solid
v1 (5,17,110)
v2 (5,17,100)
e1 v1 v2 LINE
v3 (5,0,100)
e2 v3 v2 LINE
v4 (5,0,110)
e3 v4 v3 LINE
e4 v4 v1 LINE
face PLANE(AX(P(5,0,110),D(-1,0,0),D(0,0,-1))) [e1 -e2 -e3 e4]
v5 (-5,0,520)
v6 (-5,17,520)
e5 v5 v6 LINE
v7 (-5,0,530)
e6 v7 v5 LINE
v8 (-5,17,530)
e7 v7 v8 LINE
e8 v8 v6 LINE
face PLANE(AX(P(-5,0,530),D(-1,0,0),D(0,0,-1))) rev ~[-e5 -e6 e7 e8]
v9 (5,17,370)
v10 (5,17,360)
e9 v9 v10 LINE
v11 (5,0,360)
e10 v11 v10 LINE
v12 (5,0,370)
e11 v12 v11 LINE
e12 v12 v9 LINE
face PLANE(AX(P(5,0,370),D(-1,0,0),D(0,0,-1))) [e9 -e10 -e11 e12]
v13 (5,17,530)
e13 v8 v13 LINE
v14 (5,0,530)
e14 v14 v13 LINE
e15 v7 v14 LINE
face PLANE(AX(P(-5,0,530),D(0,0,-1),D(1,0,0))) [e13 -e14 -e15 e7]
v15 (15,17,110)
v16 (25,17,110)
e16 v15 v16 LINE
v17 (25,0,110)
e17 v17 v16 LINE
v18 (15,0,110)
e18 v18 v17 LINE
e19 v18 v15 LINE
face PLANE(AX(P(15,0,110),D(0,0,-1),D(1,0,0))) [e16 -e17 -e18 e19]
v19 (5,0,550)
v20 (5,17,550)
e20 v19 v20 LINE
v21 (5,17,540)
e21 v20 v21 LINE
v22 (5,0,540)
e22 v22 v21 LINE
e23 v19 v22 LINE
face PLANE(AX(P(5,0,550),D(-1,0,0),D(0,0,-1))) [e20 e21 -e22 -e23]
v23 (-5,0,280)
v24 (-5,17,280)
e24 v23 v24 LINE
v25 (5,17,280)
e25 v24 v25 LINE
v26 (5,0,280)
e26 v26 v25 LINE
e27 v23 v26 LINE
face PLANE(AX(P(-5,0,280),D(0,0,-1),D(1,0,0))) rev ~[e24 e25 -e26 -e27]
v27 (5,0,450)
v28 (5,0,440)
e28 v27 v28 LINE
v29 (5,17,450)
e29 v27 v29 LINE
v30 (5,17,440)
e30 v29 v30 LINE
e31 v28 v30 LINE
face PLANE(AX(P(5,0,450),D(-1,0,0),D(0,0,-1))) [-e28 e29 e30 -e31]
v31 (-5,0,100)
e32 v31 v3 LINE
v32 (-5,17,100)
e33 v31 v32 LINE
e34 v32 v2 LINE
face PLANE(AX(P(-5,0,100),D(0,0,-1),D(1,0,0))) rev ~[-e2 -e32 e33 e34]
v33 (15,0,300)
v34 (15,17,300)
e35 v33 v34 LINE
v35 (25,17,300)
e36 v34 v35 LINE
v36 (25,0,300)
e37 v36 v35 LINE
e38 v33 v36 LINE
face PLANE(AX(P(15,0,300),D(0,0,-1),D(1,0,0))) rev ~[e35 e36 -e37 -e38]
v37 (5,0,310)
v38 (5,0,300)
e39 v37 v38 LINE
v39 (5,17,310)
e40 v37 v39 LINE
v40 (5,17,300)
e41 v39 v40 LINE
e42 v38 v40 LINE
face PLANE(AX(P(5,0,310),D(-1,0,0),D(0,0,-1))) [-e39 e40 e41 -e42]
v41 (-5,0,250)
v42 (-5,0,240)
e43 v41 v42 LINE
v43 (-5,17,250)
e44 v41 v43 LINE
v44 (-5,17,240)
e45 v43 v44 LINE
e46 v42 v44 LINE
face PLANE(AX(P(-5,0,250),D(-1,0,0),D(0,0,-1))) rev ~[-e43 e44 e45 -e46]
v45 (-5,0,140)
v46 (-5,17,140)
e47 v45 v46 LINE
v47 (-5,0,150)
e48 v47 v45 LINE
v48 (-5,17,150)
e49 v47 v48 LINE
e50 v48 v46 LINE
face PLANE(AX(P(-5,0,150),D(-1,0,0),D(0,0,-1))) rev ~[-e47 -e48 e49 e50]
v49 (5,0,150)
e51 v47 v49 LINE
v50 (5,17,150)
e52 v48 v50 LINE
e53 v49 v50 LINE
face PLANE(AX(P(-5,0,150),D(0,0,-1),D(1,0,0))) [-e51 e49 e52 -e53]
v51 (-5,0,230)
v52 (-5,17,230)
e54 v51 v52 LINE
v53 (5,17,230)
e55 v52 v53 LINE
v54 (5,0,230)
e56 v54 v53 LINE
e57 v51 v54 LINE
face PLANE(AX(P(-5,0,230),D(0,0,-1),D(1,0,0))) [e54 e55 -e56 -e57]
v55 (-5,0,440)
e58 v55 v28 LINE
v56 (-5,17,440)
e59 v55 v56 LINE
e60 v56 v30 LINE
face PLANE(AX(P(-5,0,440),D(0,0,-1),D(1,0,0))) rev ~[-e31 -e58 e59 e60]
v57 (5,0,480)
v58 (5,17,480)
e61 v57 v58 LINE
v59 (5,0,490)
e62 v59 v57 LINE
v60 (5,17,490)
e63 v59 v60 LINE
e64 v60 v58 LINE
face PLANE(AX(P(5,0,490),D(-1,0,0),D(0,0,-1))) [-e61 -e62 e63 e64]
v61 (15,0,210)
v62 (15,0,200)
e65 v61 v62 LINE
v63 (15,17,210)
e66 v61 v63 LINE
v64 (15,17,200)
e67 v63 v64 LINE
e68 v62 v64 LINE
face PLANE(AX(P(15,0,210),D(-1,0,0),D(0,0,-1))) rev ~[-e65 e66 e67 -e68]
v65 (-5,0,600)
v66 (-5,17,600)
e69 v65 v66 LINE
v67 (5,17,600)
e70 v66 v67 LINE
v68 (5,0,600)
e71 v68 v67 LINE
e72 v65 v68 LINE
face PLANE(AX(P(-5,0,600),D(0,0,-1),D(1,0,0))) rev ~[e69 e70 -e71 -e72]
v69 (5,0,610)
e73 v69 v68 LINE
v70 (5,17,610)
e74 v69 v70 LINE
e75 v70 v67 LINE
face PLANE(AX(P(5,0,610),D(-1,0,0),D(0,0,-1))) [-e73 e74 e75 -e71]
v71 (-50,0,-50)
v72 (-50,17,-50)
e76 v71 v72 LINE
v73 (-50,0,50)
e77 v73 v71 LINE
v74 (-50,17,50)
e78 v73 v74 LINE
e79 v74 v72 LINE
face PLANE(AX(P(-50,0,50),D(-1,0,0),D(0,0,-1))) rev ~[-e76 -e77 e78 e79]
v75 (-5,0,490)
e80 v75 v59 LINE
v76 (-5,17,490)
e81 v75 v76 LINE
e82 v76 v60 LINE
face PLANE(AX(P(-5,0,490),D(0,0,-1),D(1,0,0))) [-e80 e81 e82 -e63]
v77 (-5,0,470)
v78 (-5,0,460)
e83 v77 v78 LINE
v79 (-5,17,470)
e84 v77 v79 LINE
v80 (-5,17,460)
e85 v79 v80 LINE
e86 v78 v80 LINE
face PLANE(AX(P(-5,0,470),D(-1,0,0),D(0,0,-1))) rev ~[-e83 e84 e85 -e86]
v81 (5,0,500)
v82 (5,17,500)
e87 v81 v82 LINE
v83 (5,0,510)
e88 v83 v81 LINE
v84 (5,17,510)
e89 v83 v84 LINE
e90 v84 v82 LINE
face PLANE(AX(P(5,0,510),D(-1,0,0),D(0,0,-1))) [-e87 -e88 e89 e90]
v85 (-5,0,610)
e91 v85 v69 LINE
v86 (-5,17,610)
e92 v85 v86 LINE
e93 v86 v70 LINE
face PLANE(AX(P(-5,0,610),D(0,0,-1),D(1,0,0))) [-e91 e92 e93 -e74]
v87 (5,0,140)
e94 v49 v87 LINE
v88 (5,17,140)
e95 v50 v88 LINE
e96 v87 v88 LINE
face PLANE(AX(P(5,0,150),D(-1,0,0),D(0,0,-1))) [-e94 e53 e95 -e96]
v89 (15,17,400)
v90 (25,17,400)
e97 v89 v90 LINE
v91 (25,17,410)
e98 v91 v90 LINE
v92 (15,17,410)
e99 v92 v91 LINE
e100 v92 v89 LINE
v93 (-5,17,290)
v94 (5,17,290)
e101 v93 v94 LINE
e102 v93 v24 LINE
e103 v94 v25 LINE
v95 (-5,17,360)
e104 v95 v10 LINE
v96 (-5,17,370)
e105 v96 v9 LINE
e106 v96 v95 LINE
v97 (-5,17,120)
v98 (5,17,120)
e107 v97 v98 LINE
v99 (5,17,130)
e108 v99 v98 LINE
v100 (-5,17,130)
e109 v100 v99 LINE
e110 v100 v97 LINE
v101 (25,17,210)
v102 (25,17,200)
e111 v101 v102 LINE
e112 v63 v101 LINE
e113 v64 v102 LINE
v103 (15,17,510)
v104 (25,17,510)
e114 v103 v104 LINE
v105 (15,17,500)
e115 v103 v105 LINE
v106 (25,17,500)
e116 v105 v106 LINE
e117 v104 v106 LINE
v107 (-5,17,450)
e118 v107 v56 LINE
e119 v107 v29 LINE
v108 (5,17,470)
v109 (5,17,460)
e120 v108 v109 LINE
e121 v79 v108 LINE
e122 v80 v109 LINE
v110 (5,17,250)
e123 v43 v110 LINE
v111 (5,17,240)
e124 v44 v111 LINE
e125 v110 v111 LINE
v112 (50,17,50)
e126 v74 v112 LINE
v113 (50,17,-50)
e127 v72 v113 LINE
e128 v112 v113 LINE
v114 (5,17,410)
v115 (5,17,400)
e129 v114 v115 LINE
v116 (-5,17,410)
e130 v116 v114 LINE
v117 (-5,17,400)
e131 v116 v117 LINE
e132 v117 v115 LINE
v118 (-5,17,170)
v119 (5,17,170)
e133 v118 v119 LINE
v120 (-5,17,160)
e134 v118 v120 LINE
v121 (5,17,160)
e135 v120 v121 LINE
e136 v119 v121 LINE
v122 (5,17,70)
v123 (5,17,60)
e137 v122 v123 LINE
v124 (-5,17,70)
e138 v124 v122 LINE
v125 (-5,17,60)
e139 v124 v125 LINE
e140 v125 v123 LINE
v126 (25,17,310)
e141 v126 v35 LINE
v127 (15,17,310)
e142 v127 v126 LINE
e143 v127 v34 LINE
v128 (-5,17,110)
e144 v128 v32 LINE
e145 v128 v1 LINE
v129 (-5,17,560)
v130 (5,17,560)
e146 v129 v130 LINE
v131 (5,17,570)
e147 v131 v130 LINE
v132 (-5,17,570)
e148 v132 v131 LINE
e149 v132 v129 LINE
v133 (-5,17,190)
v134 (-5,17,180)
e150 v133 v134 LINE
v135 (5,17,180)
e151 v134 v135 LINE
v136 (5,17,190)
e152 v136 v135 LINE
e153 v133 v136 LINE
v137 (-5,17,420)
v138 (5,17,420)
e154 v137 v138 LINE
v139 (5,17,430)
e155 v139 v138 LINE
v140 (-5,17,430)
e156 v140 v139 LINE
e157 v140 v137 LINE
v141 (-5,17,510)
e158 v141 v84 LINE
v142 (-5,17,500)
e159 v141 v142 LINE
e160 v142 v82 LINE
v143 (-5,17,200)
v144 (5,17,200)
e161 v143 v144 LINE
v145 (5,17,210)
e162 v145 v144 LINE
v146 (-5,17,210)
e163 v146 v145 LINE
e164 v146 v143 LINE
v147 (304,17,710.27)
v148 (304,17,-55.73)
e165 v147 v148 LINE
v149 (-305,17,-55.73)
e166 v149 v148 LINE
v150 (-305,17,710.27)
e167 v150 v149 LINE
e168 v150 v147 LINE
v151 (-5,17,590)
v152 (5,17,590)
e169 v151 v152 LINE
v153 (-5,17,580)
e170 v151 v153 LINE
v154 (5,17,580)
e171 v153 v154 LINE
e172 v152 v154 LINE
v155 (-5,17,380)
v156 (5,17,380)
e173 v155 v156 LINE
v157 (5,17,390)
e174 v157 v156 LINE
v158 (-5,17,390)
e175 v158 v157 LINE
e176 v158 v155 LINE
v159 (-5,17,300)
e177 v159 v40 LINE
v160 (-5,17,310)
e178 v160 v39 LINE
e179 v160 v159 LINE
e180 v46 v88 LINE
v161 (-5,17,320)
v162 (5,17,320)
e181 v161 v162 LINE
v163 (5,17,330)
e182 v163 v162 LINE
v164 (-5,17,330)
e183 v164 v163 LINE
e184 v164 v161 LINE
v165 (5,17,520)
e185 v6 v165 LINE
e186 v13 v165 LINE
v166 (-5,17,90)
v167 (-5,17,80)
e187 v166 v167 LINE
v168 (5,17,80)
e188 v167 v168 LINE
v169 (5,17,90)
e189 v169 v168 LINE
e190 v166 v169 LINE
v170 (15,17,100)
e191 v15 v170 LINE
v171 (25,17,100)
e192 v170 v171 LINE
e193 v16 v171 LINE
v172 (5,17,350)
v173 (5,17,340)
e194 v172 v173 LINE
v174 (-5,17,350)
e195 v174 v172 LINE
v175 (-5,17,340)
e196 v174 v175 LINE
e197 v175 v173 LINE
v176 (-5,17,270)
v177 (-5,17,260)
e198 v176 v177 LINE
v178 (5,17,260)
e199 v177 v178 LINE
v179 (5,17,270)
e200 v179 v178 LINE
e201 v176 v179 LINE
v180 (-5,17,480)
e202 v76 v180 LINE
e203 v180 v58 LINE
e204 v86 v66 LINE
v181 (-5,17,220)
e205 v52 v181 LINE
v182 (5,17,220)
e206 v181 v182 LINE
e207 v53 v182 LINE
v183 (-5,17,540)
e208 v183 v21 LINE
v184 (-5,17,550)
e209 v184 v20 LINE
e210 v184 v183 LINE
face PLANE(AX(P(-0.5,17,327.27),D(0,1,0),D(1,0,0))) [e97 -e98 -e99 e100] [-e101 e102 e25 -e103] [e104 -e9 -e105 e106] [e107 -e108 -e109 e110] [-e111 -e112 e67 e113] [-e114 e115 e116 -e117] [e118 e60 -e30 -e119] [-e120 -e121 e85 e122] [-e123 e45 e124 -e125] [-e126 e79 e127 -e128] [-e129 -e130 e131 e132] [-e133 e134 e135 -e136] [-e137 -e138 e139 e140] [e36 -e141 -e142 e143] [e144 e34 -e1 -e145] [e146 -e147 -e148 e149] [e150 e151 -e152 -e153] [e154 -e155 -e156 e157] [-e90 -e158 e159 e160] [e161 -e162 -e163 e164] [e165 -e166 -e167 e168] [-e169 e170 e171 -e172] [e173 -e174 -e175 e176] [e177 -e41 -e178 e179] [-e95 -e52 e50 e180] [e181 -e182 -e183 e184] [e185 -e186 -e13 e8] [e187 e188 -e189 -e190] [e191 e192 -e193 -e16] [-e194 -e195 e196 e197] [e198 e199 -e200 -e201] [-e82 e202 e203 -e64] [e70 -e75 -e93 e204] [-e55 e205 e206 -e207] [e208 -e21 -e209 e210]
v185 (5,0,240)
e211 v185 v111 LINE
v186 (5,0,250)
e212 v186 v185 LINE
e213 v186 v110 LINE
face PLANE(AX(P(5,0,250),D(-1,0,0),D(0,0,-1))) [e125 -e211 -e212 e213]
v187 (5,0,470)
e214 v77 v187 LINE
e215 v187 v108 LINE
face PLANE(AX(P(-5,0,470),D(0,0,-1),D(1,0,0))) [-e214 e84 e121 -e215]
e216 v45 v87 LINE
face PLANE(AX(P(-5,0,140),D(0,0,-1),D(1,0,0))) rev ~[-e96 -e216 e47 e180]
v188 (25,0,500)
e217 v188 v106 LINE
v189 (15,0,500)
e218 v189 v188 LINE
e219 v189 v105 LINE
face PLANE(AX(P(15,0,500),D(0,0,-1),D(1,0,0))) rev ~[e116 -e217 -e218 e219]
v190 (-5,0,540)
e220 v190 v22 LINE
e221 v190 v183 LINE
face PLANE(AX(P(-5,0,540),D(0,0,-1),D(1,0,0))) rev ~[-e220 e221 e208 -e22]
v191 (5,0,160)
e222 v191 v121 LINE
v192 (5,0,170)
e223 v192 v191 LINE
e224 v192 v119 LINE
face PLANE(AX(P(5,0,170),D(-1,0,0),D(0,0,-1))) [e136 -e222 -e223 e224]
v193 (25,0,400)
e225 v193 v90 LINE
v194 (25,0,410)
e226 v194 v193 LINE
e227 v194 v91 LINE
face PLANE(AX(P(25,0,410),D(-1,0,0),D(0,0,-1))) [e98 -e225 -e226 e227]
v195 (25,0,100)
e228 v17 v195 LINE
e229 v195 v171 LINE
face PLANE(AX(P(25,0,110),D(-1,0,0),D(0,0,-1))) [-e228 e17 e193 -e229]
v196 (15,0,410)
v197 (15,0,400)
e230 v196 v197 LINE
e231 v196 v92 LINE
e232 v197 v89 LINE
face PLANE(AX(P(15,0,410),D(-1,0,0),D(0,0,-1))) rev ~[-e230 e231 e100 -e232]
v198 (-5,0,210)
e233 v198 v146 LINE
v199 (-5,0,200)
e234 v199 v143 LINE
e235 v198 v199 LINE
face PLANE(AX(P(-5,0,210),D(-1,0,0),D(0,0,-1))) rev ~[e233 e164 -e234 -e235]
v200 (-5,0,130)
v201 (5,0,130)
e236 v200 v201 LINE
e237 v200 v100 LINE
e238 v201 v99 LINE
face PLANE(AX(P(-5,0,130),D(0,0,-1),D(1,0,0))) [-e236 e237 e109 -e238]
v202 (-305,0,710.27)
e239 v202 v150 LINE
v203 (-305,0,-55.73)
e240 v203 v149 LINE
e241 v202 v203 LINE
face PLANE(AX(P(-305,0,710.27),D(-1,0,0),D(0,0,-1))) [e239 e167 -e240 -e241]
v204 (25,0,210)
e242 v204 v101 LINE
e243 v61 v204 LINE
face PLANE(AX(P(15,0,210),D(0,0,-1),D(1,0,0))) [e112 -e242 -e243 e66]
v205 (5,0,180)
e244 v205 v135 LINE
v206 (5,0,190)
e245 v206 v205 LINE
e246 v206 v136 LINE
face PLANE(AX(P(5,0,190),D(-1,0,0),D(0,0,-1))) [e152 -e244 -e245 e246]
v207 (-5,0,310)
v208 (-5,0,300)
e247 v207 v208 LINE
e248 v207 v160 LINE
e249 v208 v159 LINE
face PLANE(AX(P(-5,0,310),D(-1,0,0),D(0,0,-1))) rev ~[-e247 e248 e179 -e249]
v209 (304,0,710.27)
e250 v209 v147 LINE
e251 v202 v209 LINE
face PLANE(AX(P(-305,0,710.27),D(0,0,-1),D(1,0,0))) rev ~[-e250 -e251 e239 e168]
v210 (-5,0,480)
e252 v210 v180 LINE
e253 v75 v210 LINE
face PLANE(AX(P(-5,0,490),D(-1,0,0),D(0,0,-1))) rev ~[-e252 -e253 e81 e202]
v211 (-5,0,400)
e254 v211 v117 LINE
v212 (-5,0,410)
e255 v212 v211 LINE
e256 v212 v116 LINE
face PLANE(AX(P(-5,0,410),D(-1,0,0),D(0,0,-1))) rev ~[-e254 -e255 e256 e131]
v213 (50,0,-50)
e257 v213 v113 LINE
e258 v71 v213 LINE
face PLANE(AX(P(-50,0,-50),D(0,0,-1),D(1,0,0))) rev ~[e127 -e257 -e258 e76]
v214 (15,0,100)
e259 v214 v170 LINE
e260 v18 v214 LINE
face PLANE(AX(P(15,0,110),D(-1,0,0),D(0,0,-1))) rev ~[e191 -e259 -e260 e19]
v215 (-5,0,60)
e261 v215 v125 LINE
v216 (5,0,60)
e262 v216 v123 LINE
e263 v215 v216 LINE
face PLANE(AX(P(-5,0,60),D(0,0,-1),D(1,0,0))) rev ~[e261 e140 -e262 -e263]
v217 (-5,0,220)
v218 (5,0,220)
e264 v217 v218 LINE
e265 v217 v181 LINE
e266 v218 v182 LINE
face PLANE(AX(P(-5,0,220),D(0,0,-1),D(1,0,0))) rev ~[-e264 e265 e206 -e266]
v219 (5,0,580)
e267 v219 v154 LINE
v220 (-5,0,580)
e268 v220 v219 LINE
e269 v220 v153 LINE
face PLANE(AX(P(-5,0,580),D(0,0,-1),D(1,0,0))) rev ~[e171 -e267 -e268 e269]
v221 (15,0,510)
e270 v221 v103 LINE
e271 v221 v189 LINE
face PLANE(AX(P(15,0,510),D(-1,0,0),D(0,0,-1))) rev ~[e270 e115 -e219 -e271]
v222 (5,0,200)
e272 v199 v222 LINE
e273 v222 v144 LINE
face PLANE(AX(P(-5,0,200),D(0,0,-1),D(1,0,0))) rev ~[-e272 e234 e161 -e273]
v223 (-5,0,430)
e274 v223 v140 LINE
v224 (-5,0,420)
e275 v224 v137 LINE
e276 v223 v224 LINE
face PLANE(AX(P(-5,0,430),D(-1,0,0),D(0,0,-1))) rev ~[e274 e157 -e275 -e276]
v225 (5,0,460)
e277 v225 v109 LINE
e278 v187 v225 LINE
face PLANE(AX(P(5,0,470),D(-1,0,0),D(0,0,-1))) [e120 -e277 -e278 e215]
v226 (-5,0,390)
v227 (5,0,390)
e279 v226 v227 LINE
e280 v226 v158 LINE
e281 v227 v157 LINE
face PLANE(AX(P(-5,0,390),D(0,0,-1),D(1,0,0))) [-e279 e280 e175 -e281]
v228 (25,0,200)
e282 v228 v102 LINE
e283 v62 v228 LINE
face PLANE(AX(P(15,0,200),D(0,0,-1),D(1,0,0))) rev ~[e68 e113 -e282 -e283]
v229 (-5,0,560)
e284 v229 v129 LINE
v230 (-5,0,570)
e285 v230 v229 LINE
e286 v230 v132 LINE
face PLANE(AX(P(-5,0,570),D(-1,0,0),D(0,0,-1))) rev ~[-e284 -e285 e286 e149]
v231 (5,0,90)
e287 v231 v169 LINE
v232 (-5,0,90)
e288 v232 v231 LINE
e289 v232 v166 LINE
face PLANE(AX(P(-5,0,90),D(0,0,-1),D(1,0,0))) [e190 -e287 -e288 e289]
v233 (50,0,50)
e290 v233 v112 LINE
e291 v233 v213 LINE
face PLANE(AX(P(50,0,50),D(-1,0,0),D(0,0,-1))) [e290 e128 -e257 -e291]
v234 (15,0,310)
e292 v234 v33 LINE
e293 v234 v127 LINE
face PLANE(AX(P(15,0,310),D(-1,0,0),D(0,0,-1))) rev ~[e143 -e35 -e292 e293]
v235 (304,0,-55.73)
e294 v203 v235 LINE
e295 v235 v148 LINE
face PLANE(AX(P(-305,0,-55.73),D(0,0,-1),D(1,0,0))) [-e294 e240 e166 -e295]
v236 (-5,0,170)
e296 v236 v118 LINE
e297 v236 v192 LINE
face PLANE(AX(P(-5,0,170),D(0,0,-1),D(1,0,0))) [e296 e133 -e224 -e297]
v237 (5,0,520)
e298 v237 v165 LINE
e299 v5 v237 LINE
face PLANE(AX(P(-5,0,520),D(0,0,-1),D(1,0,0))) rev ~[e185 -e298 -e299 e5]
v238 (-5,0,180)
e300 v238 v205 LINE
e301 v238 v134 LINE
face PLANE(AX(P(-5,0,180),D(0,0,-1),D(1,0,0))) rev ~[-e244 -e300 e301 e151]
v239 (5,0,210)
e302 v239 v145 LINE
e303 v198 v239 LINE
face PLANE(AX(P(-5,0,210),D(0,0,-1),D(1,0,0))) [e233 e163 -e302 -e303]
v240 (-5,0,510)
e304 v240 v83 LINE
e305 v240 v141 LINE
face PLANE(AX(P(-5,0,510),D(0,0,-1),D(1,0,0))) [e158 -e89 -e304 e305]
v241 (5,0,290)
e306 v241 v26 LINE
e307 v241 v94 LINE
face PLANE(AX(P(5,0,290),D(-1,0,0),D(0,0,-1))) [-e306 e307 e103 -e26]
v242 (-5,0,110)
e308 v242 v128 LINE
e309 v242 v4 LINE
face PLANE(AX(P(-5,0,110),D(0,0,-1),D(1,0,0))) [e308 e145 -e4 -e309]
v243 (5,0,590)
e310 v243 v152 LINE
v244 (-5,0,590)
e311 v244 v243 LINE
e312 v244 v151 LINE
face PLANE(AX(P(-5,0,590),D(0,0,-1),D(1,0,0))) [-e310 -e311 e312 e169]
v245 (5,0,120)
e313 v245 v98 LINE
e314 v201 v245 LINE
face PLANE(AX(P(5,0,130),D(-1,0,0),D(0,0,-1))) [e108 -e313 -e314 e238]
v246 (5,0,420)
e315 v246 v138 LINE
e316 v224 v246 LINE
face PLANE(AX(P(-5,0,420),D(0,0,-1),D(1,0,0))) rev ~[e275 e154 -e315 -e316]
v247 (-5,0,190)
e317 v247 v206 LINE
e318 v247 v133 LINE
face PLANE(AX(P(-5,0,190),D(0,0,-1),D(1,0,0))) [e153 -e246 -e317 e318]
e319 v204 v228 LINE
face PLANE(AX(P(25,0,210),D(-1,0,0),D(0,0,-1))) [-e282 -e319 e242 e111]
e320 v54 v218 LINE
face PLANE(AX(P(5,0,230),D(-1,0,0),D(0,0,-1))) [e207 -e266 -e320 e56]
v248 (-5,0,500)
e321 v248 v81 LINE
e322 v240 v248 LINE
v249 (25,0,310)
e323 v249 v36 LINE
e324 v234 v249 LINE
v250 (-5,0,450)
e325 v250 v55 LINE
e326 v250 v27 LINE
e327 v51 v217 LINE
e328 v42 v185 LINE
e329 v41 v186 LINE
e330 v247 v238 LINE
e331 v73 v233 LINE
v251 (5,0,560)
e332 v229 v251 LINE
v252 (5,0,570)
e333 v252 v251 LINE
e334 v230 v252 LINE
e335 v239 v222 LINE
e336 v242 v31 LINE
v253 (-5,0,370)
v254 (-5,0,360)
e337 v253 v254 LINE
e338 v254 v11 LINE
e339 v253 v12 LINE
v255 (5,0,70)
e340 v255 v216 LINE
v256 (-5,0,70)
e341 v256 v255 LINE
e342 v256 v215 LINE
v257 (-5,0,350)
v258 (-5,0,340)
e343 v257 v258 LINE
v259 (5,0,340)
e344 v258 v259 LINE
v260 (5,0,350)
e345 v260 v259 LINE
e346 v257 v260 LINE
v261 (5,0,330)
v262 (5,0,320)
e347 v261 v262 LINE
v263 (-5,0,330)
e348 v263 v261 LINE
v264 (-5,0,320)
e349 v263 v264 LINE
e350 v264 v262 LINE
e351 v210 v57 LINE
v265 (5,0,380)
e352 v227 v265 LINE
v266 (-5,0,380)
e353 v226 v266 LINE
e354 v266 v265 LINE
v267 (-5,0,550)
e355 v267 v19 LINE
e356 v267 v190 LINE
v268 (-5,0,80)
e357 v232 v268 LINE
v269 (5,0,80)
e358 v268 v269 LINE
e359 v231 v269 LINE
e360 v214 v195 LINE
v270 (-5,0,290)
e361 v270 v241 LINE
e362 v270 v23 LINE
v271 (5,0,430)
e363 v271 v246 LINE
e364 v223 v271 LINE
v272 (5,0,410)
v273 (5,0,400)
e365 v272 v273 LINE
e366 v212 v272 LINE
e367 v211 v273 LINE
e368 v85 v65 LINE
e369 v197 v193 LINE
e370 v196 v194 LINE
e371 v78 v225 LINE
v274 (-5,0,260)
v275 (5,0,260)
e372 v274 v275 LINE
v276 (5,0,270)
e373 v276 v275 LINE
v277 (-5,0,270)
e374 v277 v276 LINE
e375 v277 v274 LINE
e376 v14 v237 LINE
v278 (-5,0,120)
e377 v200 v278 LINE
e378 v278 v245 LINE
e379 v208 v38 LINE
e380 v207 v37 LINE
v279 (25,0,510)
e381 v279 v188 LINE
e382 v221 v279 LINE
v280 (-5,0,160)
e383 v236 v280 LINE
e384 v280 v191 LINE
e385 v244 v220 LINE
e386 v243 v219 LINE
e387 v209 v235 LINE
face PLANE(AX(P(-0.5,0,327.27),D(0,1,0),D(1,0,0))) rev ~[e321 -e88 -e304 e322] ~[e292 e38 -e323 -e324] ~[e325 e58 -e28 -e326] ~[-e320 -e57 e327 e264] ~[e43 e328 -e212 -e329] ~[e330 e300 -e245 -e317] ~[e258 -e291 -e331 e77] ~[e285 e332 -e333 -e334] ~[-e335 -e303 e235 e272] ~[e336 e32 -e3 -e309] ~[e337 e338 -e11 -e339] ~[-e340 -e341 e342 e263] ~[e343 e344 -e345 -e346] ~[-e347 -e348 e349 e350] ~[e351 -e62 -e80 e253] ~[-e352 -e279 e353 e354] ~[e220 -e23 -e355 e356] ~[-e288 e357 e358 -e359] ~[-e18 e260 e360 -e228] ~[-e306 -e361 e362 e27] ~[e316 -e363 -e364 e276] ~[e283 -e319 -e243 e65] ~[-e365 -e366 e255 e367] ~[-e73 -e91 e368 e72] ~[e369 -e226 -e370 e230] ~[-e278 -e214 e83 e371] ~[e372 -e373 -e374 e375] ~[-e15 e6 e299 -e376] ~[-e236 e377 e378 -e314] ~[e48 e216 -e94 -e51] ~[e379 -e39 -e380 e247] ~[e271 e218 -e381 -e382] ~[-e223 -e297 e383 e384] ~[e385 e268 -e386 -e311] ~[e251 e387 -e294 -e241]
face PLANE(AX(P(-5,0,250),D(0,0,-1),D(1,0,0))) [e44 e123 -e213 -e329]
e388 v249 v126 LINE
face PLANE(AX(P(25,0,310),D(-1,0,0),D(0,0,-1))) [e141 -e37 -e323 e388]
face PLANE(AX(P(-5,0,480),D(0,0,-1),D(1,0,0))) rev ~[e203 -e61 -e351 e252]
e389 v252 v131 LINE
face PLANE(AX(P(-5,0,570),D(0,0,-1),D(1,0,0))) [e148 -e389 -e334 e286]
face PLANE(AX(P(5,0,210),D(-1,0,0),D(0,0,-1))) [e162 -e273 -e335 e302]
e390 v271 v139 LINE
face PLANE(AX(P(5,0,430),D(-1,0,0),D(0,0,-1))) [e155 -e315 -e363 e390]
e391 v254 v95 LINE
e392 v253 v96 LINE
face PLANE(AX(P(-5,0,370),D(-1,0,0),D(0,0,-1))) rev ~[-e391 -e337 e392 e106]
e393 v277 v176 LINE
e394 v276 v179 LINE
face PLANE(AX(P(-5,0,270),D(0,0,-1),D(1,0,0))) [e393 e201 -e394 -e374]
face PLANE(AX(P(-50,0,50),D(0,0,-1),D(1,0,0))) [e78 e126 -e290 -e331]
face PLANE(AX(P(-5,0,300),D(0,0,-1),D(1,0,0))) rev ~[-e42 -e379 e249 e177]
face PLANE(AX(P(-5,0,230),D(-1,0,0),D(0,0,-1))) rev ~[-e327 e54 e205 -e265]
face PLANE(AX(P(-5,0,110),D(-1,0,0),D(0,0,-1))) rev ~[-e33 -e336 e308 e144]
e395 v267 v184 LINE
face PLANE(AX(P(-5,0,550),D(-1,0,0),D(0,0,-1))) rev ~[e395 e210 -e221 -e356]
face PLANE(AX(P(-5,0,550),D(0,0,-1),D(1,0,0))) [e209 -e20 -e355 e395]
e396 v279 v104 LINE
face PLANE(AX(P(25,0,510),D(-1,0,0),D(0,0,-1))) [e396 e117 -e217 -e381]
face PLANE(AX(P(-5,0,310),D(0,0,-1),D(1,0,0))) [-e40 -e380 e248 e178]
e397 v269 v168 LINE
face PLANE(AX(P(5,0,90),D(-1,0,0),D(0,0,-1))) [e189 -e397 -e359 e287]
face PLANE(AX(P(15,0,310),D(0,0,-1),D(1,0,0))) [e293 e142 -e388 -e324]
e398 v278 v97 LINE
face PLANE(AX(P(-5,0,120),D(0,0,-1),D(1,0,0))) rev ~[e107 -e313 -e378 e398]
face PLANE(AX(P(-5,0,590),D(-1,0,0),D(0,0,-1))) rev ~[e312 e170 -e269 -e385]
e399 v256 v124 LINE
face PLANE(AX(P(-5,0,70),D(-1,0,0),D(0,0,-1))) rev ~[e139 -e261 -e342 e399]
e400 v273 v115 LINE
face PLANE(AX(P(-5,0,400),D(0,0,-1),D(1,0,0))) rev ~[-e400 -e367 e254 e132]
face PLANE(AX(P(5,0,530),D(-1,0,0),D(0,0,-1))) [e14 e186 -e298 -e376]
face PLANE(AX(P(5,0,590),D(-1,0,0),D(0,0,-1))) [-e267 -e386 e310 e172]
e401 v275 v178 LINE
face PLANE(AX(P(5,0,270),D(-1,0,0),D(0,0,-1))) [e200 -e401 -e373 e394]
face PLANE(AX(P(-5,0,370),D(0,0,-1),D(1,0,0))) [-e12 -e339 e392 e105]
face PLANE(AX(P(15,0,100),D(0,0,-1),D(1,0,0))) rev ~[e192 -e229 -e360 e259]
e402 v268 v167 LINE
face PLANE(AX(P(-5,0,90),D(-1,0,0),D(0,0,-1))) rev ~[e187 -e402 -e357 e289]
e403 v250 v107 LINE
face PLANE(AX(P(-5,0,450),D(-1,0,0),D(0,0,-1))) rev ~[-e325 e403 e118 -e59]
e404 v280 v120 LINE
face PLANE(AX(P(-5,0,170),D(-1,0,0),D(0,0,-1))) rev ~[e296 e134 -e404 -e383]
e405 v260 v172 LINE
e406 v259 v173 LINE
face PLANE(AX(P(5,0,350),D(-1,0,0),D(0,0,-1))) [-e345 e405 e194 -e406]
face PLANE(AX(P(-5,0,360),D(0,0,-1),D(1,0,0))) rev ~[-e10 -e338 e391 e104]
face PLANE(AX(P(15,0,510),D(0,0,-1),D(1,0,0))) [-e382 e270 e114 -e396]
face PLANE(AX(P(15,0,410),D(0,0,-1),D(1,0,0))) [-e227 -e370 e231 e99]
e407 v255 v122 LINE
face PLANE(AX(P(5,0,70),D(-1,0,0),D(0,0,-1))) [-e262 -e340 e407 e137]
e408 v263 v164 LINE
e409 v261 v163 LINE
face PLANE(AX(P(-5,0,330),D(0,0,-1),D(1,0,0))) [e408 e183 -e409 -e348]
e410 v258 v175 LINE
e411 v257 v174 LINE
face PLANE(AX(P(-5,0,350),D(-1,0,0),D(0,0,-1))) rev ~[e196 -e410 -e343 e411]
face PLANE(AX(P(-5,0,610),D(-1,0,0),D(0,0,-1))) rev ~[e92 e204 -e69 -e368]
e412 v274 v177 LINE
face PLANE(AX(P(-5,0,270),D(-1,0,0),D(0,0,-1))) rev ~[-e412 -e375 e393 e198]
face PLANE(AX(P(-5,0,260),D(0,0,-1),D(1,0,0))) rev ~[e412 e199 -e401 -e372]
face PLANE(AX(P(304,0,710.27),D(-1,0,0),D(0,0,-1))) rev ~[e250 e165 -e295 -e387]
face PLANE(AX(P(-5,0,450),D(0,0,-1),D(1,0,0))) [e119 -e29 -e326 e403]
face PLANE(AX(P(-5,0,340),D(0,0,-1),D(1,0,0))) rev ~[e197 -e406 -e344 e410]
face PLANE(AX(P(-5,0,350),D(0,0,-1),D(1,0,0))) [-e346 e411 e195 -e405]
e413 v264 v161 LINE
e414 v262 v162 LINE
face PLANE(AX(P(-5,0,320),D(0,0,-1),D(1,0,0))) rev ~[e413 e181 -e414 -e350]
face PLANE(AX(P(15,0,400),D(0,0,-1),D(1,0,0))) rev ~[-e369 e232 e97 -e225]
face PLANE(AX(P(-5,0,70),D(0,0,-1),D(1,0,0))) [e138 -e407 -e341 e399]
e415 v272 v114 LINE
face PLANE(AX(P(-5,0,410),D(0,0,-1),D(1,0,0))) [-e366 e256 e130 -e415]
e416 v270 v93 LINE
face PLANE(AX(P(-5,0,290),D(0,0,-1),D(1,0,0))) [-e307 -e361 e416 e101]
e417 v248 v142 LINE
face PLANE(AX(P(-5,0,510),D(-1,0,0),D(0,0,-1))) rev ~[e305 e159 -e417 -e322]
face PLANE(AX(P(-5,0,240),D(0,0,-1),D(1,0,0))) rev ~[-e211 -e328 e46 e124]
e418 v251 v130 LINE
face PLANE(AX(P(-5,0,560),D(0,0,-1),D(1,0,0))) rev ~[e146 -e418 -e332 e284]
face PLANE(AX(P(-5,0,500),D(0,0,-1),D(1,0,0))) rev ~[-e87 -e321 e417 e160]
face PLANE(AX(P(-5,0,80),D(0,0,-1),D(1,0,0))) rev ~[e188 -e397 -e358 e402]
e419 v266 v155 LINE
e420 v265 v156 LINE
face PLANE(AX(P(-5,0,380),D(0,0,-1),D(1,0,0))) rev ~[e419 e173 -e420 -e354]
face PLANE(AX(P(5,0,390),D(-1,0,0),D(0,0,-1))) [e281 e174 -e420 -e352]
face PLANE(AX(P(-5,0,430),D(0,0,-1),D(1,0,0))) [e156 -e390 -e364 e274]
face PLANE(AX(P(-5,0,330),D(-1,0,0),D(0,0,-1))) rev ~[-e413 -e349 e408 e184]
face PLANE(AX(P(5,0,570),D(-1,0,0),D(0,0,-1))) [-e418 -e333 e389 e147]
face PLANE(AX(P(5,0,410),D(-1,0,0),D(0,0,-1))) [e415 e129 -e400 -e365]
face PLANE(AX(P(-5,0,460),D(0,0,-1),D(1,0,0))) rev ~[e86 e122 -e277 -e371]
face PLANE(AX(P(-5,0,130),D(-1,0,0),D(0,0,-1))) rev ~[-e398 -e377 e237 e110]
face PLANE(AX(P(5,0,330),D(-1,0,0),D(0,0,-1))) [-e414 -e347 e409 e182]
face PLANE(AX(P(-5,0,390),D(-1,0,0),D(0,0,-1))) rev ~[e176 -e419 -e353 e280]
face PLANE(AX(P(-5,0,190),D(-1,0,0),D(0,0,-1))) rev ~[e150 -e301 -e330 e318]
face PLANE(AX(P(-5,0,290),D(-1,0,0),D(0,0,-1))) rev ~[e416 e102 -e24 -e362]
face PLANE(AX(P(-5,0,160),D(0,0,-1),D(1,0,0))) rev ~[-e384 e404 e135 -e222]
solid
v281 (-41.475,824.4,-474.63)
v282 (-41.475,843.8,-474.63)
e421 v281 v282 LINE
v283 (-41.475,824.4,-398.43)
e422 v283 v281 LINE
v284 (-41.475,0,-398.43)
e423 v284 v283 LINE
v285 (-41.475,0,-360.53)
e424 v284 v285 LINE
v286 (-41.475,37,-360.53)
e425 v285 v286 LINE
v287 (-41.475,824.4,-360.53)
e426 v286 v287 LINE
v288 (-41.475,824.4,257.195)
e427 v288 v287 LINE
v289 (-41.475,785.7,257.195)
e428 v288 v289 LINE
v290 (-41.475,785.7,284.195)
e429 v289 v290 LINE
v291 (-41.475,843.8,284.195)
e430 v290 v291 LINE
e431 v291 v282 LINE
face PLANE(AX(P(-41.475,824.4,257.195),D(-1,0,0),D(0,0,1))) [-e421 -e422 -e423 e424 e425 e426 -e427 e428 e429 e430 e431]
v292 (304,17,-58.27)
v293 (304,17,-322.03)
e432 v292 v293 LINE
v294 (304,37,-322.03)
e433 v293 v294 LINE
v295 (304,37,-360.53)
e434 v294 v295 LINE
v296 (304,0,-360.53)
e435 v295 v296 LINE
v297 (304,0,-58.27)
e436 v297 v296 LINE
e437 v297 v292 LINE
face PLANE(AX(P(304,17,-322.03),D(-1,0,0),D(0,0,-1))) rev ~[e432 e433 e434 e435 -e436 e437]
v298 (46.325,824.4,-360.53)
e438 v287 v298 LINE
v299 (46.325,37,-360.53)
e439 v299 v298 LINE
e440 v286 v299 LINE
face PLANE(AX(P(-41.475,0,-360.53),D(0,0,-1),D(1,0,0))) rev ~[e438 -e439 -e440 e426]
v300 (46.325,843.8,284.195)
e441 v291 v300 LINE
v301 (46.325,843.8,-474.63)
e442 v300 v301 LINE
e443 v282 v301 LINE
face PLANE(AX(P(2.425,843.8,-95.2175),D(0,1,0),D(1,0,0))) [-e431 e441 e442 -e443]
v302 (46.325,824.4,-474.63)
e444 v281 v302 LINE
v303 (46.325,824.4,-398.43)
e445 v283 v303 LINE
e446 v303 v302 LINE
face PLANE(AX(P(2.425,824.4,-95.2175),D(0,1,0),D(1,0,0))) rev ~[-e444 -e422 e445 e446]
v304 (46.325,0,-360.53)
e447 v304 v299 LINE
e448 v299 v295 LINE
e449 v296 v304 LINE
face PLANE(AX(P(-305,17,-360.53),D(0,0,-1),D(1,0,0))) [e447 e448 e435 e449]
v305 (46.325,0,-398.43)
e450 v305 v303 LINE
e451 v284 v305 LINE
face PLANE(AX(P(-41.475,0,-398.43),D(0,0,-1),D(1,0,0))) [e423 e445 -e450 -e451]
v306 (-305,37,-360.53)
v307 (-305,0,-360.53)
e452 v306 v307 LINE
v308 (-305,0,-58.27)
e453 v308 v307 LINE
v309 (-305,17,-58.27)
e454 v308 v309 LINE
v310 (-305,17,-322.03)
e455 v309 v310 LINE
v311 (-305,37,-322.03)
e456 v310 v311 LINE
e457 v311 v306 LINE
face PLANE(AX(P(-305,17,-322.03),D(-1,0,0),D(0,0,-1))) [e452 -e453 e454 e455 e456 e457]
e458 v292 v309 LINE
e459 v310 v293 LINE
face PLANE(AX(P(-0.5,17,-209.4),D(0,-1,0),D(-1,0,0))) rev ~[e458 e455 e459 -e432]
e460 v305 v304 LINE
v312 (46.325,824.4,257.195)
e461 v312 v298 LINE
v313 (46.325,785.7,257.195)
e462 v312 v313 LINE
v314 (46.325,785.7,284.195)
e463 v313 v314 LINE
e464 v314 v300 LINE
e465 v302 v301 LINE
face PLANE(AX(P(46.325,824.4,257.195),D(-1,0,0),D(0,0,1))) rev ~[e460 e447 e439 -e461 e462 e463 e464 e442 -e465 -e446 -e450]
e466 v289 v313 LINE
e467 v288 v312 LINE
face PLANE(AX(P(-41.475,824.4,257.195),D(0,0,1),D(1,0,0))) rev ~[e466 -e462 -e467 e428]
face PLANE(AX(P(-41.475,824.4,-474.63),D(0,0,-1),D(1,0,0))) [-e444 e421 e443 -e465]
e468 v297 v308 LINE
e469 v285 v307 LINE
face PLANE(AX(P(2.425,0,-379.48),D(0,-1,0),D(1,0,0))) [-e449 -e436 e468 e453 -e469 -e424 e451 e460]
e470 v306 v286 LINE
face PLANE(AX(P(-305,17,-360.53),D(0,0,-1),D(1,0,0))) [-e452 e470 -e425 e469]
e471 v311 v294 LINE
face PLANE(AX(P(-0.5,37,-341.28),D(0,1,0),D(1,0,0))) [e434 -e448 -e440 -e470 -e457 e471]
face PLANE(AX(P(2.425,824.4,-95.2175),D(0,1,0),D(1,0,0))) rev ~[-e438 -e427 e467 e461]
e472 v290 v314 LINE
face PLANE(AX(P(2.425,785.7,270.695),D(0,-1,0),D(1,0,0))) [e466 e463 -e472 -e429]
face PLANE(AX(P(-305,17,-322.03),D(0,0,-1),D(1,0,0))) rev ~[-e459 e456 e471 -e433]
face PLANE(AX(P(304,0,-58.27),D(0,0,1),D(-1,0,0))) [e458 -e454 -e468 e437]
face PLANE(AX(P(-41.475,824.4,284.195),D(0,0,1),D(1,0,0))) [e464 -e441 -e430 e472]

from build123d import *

# Parameters (mm, degrees)
SKETCH1_W           = 609
SKETCH1_H           = 766
SKETCH1_W_2         = 10
SKETCH1_H_2         = 10
SKETCH1_W_3         = 100
SKETCH1_H_3         = 100
BOSS_EXTRUDE1_DEPTH = 17
SKETCH2_W           = 609
SKETCH2_H           = 302.26
BOSS_EXTRUDE2_DEPTH = 17
SKETCH3_W           = 609
SKETCH3_H           = 38.5
BOSS_EXTRUDE3_DEPTH = 20
SKETCH4_W           = 87.8
SKETCH4_H           = 37.9
BOSS_EXTRUDE4_DEPTH = 824.4
SKETCH5_W           = 87.8
SKETCH5_H           = 758.825
BOSS_EXTRUDE5_DEPTH = 19.4
SKETCH6_W           = 87.8
SKETCH6_H           = 27
BOSS_EXTRUDE6_DEPTH = 38.7


with BuildPart() as part:
    # Sketch1 → Boss-Extrude1 (new body)
    with BuildSketch(Plane(origin=(0, 0, 0), x_dir=(1, 0, 0), z_dir=(0, 1, 0))):
        with Locations((-0.5, -327.27)):
            Rectangle(SKETCH1_W, SKETCH1_H)
        with Locations((0, -85)):
            Rectangle(SKETCH1_W_2, SKETCH1_H_2, mode=Mode.SUBTRACT)
        Rectangle(SKETCH1_W_3, SKETCH1_H_3, mode=Mode.SUBTRACT)
        with Locations((0, -65)):
            Rectangle(SKETCH1_W_2, SKETCH1_H_2, mode=Mode.SUBTRACT)
        with Locations((0, -105)):
            Rectangle(SKETCH1_W_2, SKETCH1_H_2, mode=Mode.SUBTRACT)
        with Locations((0, -125)):
            Rectangle(SKETCH1_W_2, SKETCH1_H_2, mode=Mode.SUBTRACT)
        with Locations((0, -145)):
            Rectangle(SKETCH1_W_2, SKETCH1_H_2, mode=Mode.SUBTRACT)
        with Locations((0, -165)):
            Rectangle(SKETCH1_W_2, SKETCH1_H_2, mode=Mode.SUBTRACT)
        with Locations((0, -185)):
            Rectangle(SKETCH1_W_2, SKETCH1_H_2, mode=Mode.SUBTRACT)
        with Locations((0, -205)):
            Rectangle(SKETCH1_W_2, SKETCH1_H_2, mode=Mode.SUBTRACT)
        with Locations((0, -225)):
            Rectangle(SKETCH1_W_2, SKETCH1_H_2, mode=Mode.SUBTRACT)
        with Locations((0, -245)):
            Rectangle(SKETCH1_W_2, SKETCH1_H_2, mode=Mode.SUBTRACT)
        with Locations((0, -265)):
            Rectangle(SKETCH1_W_2, SKETCH1_H_2, mode=Mode.SUBTRACT)
        with Locations((0, -285)):
            Rectangle(SKETCH1_W_2, SKETCH1_H_2, mode=Mode.SUBTRACT)
        with Locations((0, -305)):
            Rectangle(SKETCH1_W_2, SKETCH1_H_2, mode=Mode.SUBTRACT)
        with Locations((0, -325)):
            Rectangle(SKETCH1_W_2, SKETCH1_H_2, mode=Mode.SUBTRACT)
        with Locations((0, -345)):
            Rectangle(SKETCH1_W_2, SKETCH1_H_2, mode=Mode.SUBTRACT)
        with Locations((0, -365)):
            Rectangle(SKETCH1_W_2, SKETCH1_H_2, mode=Mode.SUBTRACT)
        with Locations((0, -385)):
            Rectangle(SKETCH1_W_2, SKETCH1_H_2, mode=Mode.SUBTRACT)
        with Locations((0, -405)):
            Rectangle(SKETCH1_W_2, SKETCH1_H_2, mode=Mode.SUBTRACT)
        with Locations((0, -425)):
            Rectangle(SKETCH1_W_2, SKETCH1_H_2, mode=Mode.SUBTRACT)
        with Locations((0, -445)):
            Rectangle(SKETCH1_W_2, SKETCH1_H_2, mode=Mode.SUBTRACT)
        with Locations((0, -465)):
            Rectangle(SKETCH1_W_2, SKETCH1_H_2, mode=Mode.SUBTRACT)
        with Locations((0, -485)):
            Rectangle(SKETCH1_W_2, SKETCH1_H_2, mode=Mode.SUBTRACT)
        with Locations((0, -505)):
            Rectangle(SKETCH1_W_2, SKETCH1_H_2, mode=Mode.SUBTRACT)
        with Locations((0, -525)):
            Rectangle(SKETCH1_W_2, SKETCH1_H_2, mode=Mode.SUBTRACT)
        with Locations((0, -545)):
            Rectangle(SKETCH1_W_2, SKETCH1_H_2, mode=Mode.SUBTRACT)
        with Locations((0, -565)):
            Rectangle(SKETCH1_W_2, SKETCH1_H_2, mode=Mode.SUBTRACT)
        with Locations((0, -585)):
            Rectangle(SKETCH1_W_2, SKETCH1_H_2, mode=Mode.SUBTRACT)
        with Locations((0, -605)):
            Rectangle(SKETCH1_W_2, SKETCH1_H_2, mode=Mode.SUBTRACT)
        with Locations((20, -105)):
            Rectangle(SKETCH1_W_2, SKETCH1_H_2, mode=Mode.SUBTRACT)
        with Locations((20, -205)):
            Rectangle(SKETCH1_W_2, SKETCH1_H_2, mode=Mode.SUBTRACT)
        with Locations((20, -305)):
            Rectangle(SKETCH1_W_2, SKETCH1_H_2, mode=Mode.SUBTRACT)
        with Locations((20, -405)):
            Rectangle(SKETCH1_W_2, SKETCH1_H_2, mode=Mode.SUBTRACT)
        with Locations((20, -505)):
            Rectangle(SKETCH1_W_2, SKETCH1_H_2, mode=Mode.SUBTRACT)
    extrude(amount=BOSS_EXTRUDE1_DEPTH)


with BuildPart() as body_2:
    # Sketch2 → Boss-Extrude2 (new body)
    with BuildSketch(Plane(origin=(0, 0, 0), x_dir=(-1, 0, 0), z_dir=(0, -1, 0))):
        with Locations((0.5, 209.4)):
            Rectangle(SKETCH2_W, SKETCH2_H)
    extrude(amount=-BOSS_EXTRUDE2_DEPTH)

    # Sketch3 → Boss-Extrude3 (add)
    with BuildSketch(Plane(origin=(0, 17, 0), x_dir=(1, 0, 0), z_dir=(0, 1, 0))):
        with Locations((-0.5, 341.28)):
            Rectangle(SKETCH3_W, SKETCH3_H)
    extrude(amount=BOSS_EXTRUDE3_DEPTH)

    # Sketch4 → Boss-Extrude4 (add)
    with BuildSketch(Plane.XZ):
        with Locations((2.425, -379.48)):
            Rectangle(SKETCH4_W, SKETCH4_H)
    extrude(amount=-BOSS_EXTRUDE4_DEPTH)

    # Sketch5 → Boss-Extrude5 (add)
    with BuildSketch(Plane(origin=(0, 824.4, 0), x_dir=(1, 0, 0), z_dir=(0, 1, 0))):
        with Locations((2.425, 95.2175)):
            Rectangle(SKETCH5_W, SKETCH5_H)
    extrude(amount=BOSS_EXTRUDE5_DEPTH)

    # Sketch6 → Boss-Extrude6 (add)
    with BuildSketch(Plane.XZ.offset(-824.4)):
        with Locations((2.425, 270.695)):
            Rectangle(SKETCH6_W, SKETCH6_H)
    extrude(amount=BOSS_EXTRUDE6_DEPTH)


solid = Compound([part.part, body_2.part])
